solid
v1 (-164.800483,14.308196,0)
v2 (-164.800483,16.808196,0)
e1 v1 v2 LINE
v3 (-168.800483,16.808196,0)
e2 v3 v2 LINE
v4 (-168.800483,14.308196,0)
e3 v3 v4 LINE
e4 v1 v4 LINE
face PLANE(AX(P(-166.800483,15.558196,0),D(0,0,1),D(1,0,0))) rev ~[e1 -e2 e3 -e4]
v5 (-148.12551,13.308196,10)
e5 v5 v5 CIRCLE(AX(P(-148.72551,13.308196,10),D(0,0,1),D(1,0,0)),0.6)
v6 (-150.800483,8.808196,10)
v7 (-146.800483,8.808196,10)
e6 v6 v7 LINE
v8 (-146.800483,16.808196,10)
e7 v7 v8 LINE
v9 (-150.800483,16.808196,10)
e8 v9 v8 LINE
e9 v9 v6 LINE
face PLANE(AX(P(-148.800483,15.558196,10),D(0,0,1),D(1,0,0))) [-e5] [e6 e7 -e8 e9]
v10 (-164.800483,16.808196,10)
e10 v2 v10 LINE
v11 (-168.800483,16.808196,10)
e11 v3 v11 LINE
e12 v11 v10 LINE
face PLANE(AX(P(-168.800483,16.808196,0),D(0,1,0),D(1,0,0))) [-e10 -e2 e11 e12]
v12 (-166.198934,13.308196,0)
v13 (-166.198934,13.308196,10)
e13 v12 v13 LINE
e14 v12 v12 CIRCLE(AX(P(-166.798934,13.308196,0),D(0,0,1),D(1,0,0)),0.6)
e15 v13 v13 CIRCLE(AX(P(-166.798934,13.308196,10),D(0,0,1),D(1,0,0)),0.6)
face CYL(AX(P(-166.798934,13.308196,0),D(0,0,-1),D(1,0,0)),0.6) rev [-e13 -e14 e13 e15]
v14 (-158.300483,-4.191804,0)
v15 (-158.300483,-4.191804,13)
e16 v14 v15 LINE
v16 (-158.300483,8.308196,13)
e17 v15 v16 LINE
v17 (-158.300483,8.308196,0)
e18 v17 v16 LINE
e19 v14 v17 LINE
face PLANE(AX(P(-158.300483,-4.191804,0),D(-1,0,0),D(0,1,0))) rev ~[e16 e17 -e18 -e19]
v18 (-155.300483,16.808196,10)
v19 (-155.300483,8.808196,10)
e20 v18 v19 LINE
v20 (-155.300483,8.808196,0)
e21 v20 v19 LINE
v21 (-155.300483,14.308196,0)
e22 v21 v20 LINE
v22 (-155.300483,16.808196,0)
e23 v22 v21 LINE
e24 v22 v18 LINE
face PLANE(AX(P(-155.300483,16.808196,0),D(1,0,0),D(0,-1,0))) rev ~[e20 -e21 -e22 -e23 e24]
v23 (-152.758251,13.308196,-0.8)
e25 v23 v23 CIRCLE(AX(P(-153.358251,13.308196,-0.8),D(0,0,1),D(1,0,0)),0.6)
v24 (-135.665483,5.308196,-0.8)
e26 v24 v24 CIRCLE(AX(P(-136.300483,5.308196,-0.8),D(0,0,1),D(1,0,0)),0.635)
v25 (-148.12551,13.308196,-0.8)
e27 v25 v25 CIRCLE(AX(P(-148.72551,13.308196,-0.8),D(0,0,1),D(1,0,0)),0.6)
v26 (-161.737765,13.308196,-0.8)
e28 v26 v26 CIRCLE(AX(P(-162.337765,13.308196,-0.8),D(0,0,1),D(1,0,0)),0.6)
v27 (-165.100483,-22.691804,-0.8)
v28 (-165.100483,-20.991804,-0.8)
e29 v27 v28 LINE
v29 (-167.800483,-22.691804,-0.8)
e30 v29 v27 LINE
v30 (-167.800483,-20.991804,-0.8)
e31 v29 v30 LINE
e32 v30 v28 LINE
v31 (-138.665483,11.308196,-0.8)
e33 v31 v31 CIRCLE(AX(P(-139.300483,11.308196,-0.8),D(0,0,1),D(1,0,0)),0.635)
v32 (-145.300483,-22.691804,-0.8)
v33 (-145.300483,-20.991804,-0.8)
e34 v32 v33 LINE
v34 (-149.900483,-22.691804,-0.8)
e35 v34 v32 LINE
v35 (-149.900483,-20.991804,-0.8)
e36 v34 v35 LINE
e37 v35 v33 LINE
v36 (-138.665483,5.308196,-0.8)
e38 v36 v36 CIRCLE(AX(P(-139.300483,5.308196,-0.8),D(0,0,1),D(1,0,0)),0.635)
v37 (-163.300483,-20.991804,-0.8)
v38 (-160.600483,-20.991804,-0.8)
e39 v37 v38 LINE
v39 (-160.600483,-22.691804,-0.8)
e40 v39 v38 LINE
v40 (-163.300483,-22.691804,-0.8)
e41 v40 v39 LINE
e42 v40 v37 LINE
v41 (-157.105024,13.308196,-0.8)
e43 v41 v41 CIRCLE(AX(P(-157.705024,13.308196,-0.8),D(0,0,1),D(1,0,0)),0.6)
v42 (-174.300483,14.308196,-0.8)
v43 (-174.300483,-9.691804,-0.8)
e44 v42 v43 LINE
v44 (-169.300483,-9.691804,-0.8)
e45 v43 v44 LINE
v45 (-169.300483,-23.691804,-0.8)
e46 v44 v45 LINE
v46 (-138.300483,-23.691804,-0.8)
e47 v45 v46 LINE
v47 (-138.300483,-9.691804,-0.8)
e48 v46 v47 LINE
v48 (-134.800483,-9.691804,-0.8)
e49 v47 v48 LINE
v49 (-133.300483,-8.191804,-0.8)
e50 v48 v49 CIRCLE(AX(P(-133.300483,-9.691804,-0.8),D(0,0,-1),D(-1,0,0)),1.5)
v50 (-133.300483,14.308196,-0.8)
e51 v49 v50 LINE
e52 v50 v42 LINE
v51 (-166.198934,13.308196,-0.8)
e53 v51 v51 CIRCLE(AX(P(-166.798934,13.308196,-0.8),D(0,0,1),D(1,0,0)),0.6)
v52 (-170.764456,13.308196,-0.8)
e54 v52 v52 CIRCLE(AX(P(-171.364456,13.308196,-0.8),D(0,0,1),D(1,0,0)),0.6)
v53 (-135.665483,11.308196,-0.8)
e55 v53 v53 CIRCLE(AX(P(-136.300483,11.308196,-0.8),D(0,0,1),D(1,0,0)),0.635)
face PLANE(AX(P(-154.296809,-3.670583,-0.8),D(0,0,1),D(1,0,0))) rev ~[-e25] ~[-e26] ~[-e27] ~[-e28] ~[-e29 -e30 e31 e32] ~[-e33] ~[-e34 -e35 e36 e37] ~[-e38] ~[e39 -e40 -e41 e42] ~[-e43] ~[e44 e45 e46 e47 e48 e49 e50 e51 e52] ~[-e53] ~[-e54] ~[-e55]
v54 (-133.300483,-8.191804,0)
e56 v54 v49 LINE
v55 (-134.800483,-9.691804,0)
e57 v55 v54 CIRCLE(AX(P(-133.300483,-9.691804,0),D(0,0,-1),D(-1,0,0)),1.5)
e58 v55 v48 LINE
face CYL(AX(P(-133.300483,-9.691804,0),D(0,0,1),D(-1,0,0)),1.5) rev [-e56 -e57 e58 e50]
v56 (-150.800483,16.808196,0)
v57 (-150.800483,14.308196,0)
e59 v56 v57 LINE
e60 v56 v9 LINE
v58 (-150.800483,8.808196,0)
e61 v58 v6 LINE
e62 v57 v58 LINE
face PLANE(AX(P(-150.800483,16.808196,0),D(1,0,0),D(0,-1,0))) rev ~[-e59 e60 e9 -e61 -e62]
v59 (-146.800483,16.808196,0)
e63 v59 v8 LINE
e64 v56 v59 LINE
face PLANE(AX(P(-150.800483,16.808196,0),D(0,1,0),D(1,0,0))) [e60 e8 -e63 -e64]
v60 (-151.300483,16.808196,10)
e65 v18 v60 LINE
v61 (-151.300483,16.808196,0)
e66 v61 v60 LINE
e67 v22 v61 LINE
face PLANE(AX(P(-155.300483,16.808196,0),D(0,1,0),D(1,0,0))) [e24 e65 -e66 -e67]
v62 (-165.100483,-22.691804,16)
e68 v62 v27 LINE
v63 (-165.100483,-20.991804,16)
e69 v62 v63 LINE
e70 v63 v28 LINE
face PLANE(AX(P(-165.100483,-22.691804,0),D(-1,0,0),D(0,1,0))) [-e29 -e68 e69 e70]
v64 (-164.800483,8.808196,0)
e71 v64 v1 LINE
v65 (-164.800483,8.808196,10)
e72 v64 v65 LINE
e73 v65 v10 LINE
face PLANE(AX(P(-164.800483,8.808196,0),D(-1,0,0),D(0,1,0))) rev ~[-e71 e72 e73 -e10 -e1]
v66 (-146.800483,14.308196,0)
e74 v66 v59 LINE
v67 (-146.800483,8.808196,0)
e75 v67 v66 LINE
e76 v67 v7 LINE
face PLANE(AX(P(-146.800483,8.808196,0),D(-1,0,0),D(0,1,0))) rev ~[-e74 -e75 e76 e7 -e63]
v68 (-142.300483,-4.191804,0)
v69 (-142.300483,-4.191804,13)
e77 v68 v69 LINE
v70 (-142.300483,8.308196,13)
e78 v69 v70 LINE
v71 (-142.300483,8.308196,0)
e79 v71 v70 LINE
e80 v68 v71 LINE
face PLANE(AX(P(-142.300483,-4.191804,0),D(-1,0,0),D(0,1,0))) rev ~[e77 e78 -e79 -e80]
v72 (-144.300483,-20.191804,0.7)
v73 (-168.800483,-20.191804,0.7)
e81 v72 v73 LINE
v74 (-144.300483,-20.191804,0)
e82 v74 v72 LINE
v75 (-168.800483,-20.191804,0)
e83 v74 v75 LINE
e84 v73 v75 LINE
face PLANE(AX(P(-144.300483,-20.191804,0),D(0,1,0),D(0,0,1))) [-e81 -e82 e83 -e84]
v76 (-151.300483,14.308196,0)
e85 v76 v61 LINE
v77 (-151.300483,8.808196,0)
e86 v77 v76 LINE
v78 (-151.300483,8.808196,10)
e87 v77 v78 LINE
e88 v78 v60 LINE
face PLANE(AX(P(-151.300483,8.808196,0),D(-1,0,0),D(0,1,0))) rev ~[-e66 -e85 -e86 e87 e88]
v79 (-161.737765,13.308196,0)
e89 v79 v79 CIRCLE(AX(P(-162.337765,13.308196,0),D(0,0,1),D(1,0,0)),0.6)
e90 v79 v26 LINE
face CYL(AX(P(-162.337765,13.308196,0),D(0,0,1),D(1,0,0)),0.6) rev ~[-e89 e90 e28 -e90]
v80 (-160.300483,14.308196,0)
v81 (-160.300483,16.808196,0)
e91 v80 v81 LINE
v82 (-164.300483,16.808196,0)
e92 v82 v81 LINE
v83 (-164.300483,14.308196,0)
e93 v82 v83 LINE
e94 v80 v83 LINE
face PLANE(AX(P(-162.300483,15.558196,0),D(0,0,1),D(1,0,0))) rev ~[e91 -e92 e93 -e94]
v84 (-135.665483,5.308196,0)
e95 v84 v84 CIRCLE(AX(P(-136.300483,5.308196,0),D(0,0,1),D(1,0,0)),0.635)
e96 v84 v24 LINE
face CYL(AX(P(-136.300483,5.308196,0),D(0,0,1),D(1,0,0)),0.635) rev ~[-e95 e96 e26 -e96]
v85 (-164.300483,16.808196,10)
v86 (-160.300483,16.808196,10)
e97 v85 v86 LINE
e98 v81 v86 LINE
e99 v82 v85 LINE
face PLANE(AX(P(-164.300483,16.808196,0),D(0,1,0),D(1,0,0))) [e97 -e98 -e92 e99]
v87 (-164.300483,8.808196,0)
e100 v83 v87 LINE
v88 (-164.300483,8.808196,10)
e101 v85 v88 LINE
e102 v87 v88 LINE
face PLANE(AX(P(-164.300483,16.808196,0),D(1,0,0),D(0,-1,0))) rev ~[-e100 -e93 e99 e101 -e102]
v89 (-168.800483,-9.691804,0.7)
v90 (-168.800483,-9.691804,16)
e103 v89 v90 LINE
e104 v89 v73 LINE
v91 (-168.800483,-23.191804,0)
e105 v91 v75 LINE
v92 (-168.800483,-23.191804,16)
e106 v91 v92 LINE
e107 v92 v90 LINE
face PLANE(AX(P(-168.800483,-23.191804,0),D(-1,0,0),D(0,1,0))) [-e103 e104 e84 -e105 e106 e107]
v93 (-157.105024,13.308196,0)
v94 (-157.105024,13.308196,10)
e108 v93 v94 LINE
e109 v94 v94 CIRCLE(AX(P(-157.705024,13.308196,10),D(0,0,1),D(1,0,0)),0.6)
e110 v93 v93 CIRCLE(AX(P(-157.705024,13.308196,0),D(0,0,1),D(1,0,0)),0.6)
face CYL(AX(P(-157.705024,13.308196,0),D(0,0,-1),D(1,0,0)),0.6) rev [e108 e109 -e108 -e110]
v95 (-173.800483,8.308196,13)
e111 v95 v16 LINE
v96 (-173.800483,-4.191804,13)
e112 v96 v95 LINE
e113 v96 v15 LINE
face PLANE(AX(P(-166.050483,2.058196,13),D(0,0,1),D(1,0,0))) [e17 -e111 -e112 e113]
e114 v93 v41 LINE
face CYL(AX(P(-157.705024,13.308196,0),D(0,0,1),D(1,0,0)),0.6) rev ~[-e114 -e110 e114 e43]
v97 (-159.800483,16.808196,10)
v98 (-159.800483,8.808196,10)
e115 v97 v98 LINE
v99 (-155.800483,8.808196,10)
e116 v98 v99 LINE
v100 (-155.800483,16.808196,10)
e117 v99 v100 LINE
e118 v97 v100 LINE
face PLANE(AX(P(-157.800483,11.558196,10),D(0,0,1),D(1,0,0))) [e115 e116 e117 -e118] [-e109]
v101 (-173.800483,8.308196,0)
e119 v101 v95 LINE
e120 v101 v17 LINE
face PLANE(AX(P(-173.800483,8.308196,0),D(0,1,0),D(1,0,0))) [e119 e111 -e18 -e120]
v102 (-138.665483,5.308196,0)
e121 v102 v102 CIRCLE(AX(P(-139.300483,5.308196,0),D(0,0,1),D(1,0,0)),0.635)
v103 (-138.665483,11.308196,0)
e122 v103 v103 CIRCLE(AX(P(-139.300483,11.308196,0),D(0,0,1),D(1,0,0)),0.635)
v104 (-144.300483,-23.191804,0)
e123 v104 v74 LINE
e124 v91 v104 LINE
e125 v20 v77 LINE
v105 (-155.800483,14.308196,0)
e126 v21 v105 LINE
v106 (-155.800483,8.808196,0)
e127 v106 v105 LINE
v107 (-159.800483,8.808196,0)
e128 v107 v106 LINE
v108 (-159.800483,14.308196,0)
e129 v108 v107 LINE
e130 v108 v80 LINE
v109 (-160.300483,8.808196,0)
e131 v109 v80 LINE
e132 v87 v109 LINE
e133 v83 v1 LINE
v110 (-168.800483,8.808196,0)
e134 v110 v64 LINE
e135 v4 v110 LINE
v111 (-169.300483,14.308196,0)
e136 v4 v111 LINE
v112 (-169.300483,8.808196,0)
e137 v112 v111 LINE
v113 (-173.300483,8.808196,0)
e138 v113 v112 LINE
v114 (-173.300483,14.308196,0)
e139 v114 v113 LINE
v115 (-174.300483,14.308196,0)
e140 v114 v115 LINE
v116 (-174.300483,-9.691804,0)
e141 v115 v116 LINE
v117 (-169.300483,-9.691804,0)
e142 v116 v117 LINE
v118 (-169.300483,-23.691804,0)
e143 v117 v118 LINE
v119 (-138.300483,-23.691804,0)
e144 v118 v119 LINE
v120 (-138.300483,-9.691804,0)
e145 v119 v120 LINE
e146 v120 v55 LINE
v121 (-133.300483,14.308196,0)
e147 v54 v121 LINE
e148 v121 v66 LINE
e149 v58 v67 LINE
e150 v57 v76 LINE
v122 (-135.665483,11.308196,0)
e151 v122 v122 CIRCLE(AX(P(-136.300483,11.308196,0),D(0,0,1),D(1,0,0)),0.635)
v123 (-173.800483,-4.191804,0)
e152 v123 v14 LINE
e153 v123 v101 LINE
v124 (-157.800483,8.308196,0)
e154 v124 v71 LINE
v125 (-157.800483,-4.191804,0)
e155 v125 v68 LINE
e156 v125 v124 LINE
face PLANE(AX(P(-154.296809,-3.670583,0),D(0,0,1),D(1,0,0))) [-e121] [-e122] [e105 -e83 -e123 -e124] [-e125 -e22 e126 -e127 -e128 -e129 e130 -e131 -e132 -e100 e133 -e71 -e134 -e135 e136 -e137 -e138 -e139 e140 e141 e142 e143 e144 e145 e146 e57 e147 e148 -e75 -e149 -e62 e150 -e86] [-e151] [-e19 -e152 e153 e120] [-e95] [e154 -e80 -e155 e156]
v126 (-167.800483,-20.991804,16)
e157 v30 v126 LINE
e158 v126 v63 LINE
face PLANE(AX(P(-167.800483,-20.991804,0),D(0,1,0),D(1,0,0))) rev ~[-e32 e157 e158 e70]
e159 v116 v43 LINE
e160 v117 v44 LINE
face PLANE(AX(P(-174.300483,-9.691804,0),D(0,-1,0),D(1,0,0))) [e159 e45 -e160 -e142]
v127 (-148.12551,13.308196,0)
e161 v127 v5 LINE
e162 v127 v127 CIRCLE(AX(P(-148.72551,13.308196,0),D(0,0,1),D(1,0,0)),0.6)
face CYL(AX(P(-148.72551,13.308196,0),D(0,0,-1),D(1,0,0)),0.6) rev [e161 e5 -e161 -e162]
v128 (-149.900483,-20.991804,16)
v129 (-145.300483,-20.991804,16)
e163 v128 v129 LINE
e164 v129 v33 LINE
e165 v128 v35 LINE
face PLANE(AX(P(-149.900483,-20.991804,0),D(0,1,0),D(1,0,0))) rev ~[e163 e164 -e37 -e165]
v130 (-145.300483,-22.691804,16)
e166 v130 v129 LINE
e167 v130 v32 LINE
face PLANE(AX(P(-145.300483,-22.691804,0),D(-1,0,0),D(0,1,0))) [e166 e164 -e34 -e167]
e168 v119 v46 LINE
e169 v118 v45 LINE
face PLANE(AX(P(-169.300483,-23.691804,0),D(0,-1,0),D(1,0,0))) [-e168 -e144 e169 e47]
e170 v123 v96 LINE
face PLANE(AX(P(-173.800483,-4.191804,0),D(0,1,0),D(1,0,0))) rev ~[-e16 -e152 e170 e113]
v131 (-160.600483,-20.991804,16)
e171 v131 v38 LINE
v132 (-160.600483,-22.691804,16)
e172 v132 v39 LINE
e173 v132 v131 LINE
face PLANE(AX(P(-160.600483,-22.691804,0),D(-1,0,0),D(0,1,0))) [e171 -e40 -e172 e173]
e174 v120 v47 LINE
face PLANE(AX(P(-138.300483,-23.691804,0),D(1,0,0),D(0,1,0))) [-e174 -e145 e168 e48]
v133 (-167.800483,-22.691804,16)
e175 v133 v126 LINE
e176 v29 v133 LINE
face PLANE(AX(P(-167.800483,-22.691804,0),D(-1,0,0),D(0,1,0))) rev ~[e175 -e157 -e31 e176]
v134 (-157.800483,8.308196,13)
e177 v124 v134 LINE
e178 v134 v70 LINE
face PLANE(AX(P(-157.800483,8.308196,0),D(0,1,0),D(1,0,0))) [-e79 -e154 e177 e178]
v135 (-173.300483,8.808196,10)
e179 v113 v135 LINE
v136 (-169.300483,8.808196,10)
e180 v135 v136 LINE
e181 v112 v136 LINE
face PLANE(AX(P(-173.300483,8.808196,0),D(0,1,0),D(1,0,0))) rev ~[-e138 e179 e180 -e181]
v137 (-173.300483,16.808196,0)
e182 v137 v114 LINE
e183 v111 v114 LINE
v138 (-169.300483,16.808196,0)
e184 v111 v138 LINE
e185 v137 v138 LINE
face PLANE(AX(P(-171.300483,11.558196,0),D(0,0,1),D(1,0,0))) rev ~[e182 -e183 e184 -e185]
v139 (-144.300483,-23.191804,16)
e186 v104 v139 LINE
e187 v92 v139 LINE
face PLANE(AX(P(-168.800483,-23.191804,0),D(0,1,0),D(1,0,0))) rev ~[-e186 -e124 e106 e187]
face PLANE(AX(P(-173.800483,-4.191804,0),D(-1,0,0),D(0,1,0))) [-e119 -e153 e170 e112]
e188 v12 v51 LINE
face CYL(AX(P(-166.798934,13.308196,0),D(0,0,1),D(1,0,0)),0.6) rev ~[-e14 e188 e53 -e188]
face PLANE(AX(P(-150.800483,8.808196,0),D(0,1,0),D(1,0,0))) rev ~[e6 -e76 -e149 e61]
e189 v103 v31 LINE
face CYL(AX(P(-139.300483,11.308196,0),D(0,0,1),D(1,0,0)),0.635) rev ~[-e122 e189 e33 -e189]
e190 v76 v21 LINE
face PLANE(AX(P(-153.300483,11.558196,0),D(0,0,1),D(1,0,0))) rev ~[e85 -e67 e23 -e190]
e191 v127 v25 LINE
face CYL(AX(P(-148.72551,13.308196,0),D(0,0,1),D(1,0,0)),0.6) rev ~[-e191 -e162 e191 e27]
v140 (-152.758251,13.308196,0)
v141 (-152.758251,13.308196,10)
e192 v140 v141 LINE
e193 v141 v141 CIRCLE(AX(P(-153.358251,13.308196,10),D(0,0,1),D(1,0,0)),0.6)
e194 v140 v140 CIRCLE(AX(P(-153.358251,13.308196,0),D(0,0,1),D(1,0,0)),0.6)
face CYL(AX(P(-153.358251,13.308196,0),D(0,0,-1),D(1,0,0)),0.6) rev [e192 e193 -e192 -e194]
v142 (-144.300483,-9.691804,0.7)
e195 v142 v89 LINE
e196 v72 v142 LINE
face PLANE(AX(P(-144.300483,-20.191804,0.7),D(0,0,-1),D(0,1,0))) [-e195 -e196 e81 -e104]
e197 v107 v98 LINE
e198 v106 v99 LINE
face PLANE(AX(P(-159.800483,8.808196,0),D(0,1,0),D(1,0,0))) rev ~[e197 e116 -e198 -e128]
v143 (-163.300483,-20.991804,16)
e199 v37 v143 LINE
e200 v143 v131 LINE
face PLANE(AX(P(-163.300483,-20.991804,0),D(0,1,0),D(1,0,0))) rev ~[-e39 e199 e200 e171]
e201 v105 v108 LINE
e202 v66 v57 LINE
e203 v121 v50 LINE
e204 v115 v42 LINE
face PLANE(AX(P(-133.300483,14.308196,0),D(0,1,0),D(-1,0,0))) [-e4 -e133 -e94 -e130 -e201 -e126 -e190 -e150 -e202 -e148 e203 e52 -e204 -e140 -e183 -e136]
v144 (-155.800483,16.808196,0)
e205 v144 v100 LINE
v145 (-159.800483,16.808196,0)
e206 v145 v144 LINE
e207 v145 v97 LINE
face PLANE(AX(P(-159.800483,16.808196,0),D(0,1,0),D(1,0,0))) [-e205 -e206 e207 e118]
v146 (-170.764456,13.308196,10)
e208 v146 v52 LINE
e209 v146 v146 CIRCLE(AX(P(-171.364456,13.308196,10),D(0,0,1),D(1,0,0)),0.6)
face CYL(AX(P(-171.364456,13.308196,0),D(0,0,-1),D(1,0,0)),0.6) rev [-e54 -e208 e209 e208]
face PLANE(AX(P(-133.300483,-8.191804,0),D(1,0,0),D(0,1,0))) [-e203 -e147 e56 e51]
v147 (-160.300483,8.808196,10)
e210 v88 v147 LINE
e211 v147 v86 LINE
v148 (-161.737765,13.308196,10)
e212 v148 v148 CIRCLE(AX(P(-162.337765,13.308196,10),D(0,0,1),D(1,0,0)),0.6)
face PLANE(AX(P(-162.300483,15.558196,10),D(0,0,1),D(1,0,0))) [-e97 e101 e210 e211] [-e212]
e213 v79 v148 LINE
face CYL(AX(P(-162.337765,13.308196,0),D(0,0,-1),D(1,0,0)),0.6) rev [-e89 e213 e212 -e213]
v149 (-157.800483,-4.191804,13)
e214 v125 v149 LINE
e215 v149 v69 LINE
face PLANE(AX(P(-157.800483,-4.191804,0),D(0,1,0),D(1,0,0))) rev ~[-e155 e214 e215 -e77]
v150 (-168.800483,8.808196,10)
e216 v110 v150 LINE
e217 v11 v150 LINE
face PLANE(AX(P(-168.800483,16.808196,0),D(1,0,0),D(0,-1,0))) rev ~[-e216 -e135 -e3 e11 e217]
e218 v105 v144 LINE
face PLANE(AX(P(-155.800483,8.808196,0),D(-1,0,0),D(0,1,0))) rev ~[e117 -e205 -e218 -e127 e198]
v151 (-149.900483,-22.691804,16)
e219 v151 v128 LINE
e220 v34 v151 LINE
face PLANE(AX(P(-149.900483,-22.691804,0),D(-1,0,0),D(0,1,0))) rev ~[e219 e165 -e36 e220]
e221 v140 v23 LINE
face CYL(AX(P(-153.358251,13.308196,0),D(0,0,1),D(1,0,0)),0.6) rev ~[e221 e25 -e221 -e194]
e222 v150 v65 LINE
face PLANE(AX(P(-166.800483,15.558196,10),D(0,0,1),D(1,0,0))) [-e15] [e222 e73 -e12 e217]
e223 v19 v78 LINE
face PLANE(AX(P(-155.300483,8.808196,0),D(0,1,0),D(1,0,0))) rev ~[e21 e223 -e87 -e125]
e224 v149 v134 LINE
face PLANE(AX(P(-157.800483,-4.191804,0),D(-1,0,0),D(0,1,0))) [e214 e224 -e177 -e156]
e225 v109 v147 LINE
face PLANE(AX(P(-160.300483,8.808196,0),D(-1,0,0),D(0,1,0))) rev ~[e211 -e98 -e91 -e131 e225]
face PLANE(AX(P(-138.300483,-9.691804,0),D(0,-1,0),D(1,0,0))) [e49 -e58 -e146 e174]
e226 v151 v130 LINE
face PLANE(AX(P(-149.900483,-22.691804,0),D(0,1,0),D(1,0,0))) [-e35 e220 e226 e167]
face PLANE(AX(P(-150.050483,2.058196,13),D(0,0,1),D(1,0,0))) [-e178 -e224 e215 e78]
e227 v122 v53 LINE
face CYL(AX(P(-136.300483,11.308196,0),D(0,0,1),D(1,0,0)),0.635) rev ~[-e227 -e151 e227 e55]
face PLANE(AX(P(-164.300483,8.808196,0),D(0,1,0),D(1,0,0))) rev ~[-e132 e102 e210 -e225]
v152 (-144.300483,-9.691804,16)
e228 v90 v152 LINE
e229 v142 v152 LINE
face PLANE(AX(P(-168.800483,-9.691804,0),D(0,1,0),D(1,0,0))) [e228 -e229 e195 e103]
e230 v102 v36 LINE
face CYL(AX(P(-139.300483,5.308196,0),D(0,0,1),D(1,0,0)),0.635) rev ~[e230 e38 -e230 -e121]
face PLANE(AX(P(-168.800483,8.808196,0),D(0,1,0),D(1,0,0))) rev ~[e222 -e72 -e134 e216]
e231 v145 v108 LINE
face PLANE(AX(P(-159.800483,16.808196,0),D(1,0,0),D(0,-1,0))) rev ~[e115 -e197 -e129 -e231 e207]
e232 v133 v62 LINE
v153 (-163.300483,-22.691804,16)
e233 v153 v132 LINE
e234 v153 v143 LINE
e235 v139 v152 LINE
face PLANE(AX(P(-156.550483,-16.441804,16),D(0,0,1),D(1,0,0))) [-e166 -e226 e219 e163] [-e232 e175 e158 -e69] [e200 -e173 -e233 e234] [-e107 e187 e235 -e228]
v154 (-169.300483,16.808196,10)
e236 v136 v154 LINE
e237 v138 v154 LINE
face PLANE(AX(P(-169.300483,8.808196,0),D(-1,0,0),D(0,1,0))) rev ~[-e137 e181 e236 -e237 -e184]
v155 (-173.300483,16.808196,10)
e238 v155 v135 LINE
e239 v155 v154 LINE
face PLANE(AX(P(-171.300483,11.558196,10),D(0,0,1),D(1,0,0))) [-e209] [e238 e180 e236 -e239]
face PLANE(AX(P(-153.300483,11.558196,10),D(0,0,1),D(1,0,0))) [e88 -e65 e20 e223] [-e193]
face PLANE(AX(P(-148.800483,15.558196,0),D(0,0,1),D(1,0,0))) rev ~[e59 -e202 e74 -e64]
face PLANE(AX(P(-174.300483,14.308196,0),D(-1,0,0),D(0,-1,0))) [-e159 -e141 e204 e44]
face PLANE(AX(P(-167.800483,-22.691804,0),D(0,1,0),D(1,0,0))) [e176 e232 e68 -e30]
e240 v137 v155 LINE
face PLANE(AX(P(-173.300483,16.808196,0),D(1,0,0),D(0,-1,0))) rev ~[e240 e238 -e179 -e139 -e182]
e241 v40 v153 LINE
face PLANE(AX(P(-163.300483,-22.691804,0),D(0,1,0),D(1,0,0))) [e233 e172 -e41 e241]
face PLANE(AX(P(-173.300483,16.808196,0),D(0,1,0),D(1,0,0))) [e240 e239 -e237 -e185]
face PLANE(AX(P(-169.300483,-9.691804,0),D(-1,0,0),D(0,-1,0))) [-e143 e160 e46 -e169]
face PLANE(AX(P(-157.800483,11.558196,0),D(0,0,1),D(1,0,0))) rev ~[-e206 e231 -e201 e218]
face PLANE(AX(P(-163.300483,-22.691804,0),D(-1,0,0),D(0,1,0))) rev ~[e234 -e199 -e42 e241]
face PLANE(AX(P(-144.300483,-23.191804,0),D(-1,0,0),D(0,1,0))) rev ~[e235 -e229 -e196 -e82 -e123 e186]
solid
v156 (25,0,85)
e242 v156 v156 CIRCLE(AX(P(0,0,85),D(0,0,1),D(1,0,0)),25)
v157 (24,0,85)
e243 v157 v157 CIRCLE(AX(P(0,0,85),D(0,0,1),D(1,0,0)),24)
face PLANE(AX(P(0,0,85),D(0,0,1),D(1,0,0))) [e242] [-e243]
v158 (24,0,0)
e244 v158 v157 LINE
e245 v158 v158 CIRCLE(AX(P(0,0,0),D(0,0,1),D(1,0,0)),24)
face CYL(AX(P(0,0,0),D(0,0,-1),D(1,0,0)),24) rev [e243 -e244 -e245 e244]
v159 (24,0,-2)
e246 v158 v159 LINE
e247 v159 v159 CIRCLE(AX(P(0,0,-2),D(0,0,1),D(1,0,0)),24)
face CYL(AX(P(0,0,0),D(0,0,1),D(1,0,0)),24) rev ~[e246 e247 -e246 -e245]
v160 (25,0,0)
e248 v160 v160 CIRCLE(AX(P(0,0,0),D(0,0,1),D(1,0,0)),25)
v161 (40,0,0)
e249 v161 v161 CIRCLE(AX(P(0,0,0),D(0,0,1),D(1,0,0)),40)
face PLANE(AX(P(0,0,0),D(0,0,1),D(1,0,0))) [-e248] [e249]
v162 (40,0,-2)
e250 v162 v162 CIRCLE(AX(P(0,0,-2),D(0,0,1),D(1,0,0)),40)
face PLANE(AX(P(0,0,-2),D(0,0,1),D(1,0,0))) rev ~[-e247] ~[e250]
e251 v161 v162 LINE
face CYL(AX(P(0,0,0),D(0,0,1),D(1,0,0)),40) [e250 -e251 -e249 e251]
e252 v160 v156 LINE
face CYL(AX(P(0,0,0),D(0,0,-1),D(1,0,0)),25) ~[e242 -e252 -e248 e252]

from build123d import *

# Parameters (mm, degrees)
F0_R     = 25
F0_R_2   = 24
F1_DEPTH = 85
F0_R_3   = 40
F2_DEPTH = 2
F3_W     = 24.5
F3_H     = 13.5
F3_W_2   = 15.5
F3_H_2   = 12.5
F3_R     = 0.635
F3_W_3   = 2.7
F3_H_3   = 1.7
F3_W_4   = 4.6
F3_W_5   = 4
F3_H_4   = 5.5
F3_R_2   = 0.6
F3_W_6   = 0.5
F4_DEPTH = 0.8
F5_DEPTH = 13
F3_H_5   = 2.5
F6_DEPTH = 10
F7_DEPTH = 16
F8_W     = 10.5
F8_H     = 0.7
F9_DEPTH = 25


with BuildPart() as f1:
    # F0 (on Top) → F1 (new body)
    with BuildSketch(Plane.XY):
        Circle(F0_R)
        Circle(F0_R_2, mode=Mode.SUBTRACT)
    extrude(amount=F1_DEPTH)

    # F0 (on Top) → F2 (join)
    with BuildSketch(Plane.XY):
        Circle(F0_R_3)
        Circle(F0_R, mode=Mode.SUBTRACT)
        Circle(F0_R)
        Circle(F0_R_2, mode=Mode.SUBTRACT)
    extrude(amount=-F2_DEPTH)


with BuildPart() as f4:
    # F3 (on Top) → F4 (new body)
    with BuildSketch(Plane.XY):
        with BuildLine():
            Line((-173.800483346, 14.3081960443), (-174.300483346, 14.3081960443))
            Line((-174.300483346, 14.3081960443), (-174.300483346, -9.6918039557))
            Line((-174.300483346, -9.6918039557), (-169.300483346, -9.6918039557))
            Line((-169.300483346, -9.6918039557), (-169.300483346, -23.6918039557))
            Line((-169.300483346, -23.6918039557), (-138.300483346, -23.6918039557))
            Line((-138.300483346, -23.6918039557), (-138.300483346, -9.6918039557))
            Line((-138.300483346, -9.6918039557), (-134.800483346, -9.6918039557))
            ThreePointArc((-134.800483346, -9.6918039557), (-134.3611435178, -8.6311437839), (-133.300483346, -8.1918039557))
            Line((-133.300483346, -8.1918039557), (-133.300483346, 14.3081960443))
            Line((-133.300483346, 14.3081960443), (-146.300483346, 14.3081960443))
            Line((-146.300483346, 14.3081960443), (-146.300483346, 8.8081960443))
            Line((-146.300483346, 8.8081960443), (-146.800483346, 8.8081960443))
            Line((-146.800483346, 8.8081960443), (-150.800483346, 8.8081960443))
            Line((-150.800483346, 8.8081960443), (-151.300483346, 8.8081960443))
            Line((-151.300483346, 8.8081960443), (-155.300483346, 8.8081960443))
            Line((-155.300483346, 8.8081960443), (-155.800483346, 8.8081960443))
            Line((-155.800483346, 8.8081960443), (-159.800483346, 8.8081960443))
            Line((-159.800483346, 8.8081960443), (-160.300483346, 8.8081960443))
            Line((-160.300483346, 8.8081960443), (-164.300483346, 8.8081960443))
            Line((-164.300483346, 8.8081960443), (-164.800483346, 8.8081960443))
            Line((-164.800483346, 8.8081960443), (-168.800483346, 8.8081960443))
            Line((-168.800483346, 8.8081960443), (-169.300483346, 8.8081960443))
            Line((-169.300483346, 8.8081960443), (-173.300483346, 8.8081960443))
            Line((-173.300483346, 8.8081960443), (-173.800483346, 8.8081960443))
            Line((-173.800483346, 8.8081960443), (-173.800483346, 14.3081960443))
        make_face()
        with Locations((-156.550483346, -16.4418039557)):
            Rectangle(F3_W, F3_H, mode=Mode.SUBTRACT)
        with Locations((-166.050483346, 2.0581960443)):
            Rectangle(F3_W_2, F3_H_2, mode=Mode.SUBTRACT)
        with Locations((-150.050483346, 2.0581960443)):
            Rectangle(F3_W_2, F3_H_2, mode=Mode.SUBTRACT)
        with Locations((-139.300483346, 5.3081960443)):
            Circle(F3_R, mode=Mode.SUBTRACT)
        with Locations((-136.300483346, 5.3081960443)):
            Circle(F3_R, mode=Mode.SUBTRACT)
        with Locations((-139.300483346, 11.3081960443)):
            Circle(F3_R, mode=Mode.SUBTRACT)
        with Locations((-136.300483346, 11.3081960443)):
            Circle(F3_R, mode=Mode.SUBTRACT)
        with Locations((-156.550483346, -16.4418039557)):
            Rectangle(F3_W, F3_H)
        with Locations((-166.450483346, -21.8418039557)):
            Rectangle(F3_W_3, F3_H_3, mode=Mode.SUBTRACT)
        with Locations((-161.950483346, -21.8418039557)):
            Rectangle(F3_W_3, F3_H_3, mode=Mode.SUBTRACT)
        with Locations((-147.600483346, -21.8418039557)):
            Rectangle(F3_W_4, F3_H_3, mode=Mode.SUBTRACT)
        with Locations((-166.050483346, 2.0581960443)):
            Rectangle(F3_W_2, F3_H_2)
        with Locations((-150.050483346, 2.0581960443)):
            Rectangle(F3_W_2, F3_H_2)
        with Locations((-171.300483346, 11.5581960443)):
            Rectangle(F3_W_5, F3_H_4)
        with Locations((-171.3644564152, 13.3081960443)):
            Circle(F3_R_2, mode=Mode.SUBTRACT)
        with Locations((-166.800483346, 11.5581960443)):
            Rectangle(F3_W_5, F3_H_4)
        with Locations((-166.7989343405, 13.3081960443)):
            Circle(F3_R_2, mode=Mode.SUBTRACT)
        with Locations((-162.300483346, 11.5581960443)):
            Rectangle(F3_W_5, F3_H_4)
        with Locations((-162.3377650976, 13.3081960443)):
            Circle(F3_R_2, mode=Mode.SUBTRACT)
        with Locations((-157.800483346, 11.5581960443)):
            Rectangle(F3_W_5, F3_H_4)
        with Locations((-157.7050238848, 13.3081960443)):
            Circle(F3_R_2, mode=Mode.SUBTRACT)
        with Locations((-153.300483346, 11.5581960443)):
            Rectangle(F3_W_5, F3_H_4)
        with Locations((-153.3582508564, 13.3081960443)):
            Circle(F3_R_2, mode=Mode.SUBTRACT)
        with Locations((-148.800483346, 11.5581960443)):
            Rectangle(F3_W_5, F3_H_4)
        with Locations((-148.7255096436, 13.3081960443)):
            Circle(F3_R_2, mode=Mode.SUBTRACT)
        with Locations((-173.550483346, 11.5581960443)):
            Rectangle(F3_W_6, F3_H_4)
        with Locations((-169.050483346, 11.5581960443)):
            Rectangle(F3_W_6, F3_H_4)
        with Locations((-164.550483346, 11.5581960443)):
            Rectangle(F3_W_6, F3_H_4)
        with Locations((-160.050483346, 11.5581960443)):
            Rectangle(F3_W_6, F3_H_4)
        with Locations((-155.550483346, 11.5581960443)):
            Rectangle(F3_W_6, F3_H_4)
        with Locations((-151.050483346, 11.5581960443)):
            Rectangle(F3_W_6, F3_H_4)
        with Locations((-146.550483346, 11.5581960443)):
            Rectangle(F3_W_6, F3_H_4)
    extrude(amount=-F4_DEPTH)

    # F3 (on Top) → F5 (join)
    with BuildSketch(Plane.XY):
        with Locations((-166.050483346, 2.0581960443)):
            Rectangle(F3_W_2, F3_H_2)
        with Locations((-150.050483346, 2.0581960443)):
            Rectangle(F3_W_2, F3_H_2)
    extrude(amount=F5_DEPTH)

    # F3 (on Top) → F6 (join)
    with BuildSketch(Plane.XY):
        with Locations((-171.300483346, 11.5581960443)):
            Rectangle(F3_W_5, F3_H_4)
        with Locations((-171.3644564152, 13.3081960443)):
            Circle(F3_R_2, mode=Mode.SUBTRACT)
        with Locations((-171.300483346, 15.5581960443)):
            Rectangle(F3_W_5, F3_H_5)
        with Locations((-166.800483346, 15.5581960443)):
            Rectangle(F3_W_5, F3_H_5)
        with Locations((-166.800483346, 11.5581960443)):
            Rectangle(F3_W_5, F3_H_4)
        with Locations((-166.7989343405, 13.3081960443)):
            Circle(F3_R_2, mode=Mode.SUBTRACT)
        with Locations((-162.300483346, 15.5581960443)):
            Rectangle(F3_W_5, F3_H_5)
        with Locations((-162.300483346, 11.5581960443)):
            Rectangle(F3_W_5, F3_H_4)
        with Locations((-162.3377650976, 13.3081960443)):
            Circle(F3_R_2, mode=Mode.SUBTRACT)
        with Locations((-157.800483346, 11.5581960443)):
            Rectangle(F3_W_5, F3_H_4)
        with Locations((-157.7050238848, 13.3081960443)):
            Circle(F3_R_2, mode=Mode.SUBTRACT)
        with Locations((-157.800483346, 15.5581960443)):
            Rectangle(F3_W_5, F3_H_5)
        with Locations((-153.300483346, 11.5581960443)):
            Rectangle(F3_W_5, F3_H_4)
        with Locations((-153.3582508564, 13.3081960443)):
            Circle(F3_R_2, mode=Mode.SUBTRACT)
        with Locations((-153.300483346, 15.5581960443)):
            Rectangle(F3_W_5, F3_H_5)
        with Locations((-148.800483346, 15.5581960443)):
            Rectangle(F3_W_5, F3_H_5)
        with Locations((-148.800483346, 11.5581960443)):
            Rectangle(F3_W_5, F3_H_4)
        with Locations((-148.7255096436, 13.3081960443)):
            Circle(F3_R_2, mode=Mode.SUBTRACT)
    extrude(amount=F6_DEPTH)

    # F3 (on Top) → F7 (join)
    with BuildSketch(Plane.XY):
        with Locations((-156.550483346, -16.4418039557)):
            Rectangle(F3_W, F3_H)
        with Locations((-166.450483346, -21.8418039557)):
            Rectangle(F3_W_3, F3_H_3, mode=Mode.SUBTRACT)
        with Locations((-161.950483346, -21.8418039557)):
            Rectangle(F3_W_3, F3_H_3, mode=Mode.SUBTRACT)
        with Locations((-147.600483346, -21.8418039557)):
            Rectangle(F3_W_4, F3_H_3, mode=Mode.SUBTRACT)
    extrude(amount=F7_DEPTH)

    # F8 (on face) → F9 (cut)
    with BuildSketch(Plane.YZ.offset(-144.300483346)):
        with Locations((-14.9418039557, 0.35)):
            Rectangle(F8_W, F8_H)
    extrude(amount=-F9_DEPTH, mode=Mode.SUBTRACT)


solid = Compound([f1.part, f4.part])
